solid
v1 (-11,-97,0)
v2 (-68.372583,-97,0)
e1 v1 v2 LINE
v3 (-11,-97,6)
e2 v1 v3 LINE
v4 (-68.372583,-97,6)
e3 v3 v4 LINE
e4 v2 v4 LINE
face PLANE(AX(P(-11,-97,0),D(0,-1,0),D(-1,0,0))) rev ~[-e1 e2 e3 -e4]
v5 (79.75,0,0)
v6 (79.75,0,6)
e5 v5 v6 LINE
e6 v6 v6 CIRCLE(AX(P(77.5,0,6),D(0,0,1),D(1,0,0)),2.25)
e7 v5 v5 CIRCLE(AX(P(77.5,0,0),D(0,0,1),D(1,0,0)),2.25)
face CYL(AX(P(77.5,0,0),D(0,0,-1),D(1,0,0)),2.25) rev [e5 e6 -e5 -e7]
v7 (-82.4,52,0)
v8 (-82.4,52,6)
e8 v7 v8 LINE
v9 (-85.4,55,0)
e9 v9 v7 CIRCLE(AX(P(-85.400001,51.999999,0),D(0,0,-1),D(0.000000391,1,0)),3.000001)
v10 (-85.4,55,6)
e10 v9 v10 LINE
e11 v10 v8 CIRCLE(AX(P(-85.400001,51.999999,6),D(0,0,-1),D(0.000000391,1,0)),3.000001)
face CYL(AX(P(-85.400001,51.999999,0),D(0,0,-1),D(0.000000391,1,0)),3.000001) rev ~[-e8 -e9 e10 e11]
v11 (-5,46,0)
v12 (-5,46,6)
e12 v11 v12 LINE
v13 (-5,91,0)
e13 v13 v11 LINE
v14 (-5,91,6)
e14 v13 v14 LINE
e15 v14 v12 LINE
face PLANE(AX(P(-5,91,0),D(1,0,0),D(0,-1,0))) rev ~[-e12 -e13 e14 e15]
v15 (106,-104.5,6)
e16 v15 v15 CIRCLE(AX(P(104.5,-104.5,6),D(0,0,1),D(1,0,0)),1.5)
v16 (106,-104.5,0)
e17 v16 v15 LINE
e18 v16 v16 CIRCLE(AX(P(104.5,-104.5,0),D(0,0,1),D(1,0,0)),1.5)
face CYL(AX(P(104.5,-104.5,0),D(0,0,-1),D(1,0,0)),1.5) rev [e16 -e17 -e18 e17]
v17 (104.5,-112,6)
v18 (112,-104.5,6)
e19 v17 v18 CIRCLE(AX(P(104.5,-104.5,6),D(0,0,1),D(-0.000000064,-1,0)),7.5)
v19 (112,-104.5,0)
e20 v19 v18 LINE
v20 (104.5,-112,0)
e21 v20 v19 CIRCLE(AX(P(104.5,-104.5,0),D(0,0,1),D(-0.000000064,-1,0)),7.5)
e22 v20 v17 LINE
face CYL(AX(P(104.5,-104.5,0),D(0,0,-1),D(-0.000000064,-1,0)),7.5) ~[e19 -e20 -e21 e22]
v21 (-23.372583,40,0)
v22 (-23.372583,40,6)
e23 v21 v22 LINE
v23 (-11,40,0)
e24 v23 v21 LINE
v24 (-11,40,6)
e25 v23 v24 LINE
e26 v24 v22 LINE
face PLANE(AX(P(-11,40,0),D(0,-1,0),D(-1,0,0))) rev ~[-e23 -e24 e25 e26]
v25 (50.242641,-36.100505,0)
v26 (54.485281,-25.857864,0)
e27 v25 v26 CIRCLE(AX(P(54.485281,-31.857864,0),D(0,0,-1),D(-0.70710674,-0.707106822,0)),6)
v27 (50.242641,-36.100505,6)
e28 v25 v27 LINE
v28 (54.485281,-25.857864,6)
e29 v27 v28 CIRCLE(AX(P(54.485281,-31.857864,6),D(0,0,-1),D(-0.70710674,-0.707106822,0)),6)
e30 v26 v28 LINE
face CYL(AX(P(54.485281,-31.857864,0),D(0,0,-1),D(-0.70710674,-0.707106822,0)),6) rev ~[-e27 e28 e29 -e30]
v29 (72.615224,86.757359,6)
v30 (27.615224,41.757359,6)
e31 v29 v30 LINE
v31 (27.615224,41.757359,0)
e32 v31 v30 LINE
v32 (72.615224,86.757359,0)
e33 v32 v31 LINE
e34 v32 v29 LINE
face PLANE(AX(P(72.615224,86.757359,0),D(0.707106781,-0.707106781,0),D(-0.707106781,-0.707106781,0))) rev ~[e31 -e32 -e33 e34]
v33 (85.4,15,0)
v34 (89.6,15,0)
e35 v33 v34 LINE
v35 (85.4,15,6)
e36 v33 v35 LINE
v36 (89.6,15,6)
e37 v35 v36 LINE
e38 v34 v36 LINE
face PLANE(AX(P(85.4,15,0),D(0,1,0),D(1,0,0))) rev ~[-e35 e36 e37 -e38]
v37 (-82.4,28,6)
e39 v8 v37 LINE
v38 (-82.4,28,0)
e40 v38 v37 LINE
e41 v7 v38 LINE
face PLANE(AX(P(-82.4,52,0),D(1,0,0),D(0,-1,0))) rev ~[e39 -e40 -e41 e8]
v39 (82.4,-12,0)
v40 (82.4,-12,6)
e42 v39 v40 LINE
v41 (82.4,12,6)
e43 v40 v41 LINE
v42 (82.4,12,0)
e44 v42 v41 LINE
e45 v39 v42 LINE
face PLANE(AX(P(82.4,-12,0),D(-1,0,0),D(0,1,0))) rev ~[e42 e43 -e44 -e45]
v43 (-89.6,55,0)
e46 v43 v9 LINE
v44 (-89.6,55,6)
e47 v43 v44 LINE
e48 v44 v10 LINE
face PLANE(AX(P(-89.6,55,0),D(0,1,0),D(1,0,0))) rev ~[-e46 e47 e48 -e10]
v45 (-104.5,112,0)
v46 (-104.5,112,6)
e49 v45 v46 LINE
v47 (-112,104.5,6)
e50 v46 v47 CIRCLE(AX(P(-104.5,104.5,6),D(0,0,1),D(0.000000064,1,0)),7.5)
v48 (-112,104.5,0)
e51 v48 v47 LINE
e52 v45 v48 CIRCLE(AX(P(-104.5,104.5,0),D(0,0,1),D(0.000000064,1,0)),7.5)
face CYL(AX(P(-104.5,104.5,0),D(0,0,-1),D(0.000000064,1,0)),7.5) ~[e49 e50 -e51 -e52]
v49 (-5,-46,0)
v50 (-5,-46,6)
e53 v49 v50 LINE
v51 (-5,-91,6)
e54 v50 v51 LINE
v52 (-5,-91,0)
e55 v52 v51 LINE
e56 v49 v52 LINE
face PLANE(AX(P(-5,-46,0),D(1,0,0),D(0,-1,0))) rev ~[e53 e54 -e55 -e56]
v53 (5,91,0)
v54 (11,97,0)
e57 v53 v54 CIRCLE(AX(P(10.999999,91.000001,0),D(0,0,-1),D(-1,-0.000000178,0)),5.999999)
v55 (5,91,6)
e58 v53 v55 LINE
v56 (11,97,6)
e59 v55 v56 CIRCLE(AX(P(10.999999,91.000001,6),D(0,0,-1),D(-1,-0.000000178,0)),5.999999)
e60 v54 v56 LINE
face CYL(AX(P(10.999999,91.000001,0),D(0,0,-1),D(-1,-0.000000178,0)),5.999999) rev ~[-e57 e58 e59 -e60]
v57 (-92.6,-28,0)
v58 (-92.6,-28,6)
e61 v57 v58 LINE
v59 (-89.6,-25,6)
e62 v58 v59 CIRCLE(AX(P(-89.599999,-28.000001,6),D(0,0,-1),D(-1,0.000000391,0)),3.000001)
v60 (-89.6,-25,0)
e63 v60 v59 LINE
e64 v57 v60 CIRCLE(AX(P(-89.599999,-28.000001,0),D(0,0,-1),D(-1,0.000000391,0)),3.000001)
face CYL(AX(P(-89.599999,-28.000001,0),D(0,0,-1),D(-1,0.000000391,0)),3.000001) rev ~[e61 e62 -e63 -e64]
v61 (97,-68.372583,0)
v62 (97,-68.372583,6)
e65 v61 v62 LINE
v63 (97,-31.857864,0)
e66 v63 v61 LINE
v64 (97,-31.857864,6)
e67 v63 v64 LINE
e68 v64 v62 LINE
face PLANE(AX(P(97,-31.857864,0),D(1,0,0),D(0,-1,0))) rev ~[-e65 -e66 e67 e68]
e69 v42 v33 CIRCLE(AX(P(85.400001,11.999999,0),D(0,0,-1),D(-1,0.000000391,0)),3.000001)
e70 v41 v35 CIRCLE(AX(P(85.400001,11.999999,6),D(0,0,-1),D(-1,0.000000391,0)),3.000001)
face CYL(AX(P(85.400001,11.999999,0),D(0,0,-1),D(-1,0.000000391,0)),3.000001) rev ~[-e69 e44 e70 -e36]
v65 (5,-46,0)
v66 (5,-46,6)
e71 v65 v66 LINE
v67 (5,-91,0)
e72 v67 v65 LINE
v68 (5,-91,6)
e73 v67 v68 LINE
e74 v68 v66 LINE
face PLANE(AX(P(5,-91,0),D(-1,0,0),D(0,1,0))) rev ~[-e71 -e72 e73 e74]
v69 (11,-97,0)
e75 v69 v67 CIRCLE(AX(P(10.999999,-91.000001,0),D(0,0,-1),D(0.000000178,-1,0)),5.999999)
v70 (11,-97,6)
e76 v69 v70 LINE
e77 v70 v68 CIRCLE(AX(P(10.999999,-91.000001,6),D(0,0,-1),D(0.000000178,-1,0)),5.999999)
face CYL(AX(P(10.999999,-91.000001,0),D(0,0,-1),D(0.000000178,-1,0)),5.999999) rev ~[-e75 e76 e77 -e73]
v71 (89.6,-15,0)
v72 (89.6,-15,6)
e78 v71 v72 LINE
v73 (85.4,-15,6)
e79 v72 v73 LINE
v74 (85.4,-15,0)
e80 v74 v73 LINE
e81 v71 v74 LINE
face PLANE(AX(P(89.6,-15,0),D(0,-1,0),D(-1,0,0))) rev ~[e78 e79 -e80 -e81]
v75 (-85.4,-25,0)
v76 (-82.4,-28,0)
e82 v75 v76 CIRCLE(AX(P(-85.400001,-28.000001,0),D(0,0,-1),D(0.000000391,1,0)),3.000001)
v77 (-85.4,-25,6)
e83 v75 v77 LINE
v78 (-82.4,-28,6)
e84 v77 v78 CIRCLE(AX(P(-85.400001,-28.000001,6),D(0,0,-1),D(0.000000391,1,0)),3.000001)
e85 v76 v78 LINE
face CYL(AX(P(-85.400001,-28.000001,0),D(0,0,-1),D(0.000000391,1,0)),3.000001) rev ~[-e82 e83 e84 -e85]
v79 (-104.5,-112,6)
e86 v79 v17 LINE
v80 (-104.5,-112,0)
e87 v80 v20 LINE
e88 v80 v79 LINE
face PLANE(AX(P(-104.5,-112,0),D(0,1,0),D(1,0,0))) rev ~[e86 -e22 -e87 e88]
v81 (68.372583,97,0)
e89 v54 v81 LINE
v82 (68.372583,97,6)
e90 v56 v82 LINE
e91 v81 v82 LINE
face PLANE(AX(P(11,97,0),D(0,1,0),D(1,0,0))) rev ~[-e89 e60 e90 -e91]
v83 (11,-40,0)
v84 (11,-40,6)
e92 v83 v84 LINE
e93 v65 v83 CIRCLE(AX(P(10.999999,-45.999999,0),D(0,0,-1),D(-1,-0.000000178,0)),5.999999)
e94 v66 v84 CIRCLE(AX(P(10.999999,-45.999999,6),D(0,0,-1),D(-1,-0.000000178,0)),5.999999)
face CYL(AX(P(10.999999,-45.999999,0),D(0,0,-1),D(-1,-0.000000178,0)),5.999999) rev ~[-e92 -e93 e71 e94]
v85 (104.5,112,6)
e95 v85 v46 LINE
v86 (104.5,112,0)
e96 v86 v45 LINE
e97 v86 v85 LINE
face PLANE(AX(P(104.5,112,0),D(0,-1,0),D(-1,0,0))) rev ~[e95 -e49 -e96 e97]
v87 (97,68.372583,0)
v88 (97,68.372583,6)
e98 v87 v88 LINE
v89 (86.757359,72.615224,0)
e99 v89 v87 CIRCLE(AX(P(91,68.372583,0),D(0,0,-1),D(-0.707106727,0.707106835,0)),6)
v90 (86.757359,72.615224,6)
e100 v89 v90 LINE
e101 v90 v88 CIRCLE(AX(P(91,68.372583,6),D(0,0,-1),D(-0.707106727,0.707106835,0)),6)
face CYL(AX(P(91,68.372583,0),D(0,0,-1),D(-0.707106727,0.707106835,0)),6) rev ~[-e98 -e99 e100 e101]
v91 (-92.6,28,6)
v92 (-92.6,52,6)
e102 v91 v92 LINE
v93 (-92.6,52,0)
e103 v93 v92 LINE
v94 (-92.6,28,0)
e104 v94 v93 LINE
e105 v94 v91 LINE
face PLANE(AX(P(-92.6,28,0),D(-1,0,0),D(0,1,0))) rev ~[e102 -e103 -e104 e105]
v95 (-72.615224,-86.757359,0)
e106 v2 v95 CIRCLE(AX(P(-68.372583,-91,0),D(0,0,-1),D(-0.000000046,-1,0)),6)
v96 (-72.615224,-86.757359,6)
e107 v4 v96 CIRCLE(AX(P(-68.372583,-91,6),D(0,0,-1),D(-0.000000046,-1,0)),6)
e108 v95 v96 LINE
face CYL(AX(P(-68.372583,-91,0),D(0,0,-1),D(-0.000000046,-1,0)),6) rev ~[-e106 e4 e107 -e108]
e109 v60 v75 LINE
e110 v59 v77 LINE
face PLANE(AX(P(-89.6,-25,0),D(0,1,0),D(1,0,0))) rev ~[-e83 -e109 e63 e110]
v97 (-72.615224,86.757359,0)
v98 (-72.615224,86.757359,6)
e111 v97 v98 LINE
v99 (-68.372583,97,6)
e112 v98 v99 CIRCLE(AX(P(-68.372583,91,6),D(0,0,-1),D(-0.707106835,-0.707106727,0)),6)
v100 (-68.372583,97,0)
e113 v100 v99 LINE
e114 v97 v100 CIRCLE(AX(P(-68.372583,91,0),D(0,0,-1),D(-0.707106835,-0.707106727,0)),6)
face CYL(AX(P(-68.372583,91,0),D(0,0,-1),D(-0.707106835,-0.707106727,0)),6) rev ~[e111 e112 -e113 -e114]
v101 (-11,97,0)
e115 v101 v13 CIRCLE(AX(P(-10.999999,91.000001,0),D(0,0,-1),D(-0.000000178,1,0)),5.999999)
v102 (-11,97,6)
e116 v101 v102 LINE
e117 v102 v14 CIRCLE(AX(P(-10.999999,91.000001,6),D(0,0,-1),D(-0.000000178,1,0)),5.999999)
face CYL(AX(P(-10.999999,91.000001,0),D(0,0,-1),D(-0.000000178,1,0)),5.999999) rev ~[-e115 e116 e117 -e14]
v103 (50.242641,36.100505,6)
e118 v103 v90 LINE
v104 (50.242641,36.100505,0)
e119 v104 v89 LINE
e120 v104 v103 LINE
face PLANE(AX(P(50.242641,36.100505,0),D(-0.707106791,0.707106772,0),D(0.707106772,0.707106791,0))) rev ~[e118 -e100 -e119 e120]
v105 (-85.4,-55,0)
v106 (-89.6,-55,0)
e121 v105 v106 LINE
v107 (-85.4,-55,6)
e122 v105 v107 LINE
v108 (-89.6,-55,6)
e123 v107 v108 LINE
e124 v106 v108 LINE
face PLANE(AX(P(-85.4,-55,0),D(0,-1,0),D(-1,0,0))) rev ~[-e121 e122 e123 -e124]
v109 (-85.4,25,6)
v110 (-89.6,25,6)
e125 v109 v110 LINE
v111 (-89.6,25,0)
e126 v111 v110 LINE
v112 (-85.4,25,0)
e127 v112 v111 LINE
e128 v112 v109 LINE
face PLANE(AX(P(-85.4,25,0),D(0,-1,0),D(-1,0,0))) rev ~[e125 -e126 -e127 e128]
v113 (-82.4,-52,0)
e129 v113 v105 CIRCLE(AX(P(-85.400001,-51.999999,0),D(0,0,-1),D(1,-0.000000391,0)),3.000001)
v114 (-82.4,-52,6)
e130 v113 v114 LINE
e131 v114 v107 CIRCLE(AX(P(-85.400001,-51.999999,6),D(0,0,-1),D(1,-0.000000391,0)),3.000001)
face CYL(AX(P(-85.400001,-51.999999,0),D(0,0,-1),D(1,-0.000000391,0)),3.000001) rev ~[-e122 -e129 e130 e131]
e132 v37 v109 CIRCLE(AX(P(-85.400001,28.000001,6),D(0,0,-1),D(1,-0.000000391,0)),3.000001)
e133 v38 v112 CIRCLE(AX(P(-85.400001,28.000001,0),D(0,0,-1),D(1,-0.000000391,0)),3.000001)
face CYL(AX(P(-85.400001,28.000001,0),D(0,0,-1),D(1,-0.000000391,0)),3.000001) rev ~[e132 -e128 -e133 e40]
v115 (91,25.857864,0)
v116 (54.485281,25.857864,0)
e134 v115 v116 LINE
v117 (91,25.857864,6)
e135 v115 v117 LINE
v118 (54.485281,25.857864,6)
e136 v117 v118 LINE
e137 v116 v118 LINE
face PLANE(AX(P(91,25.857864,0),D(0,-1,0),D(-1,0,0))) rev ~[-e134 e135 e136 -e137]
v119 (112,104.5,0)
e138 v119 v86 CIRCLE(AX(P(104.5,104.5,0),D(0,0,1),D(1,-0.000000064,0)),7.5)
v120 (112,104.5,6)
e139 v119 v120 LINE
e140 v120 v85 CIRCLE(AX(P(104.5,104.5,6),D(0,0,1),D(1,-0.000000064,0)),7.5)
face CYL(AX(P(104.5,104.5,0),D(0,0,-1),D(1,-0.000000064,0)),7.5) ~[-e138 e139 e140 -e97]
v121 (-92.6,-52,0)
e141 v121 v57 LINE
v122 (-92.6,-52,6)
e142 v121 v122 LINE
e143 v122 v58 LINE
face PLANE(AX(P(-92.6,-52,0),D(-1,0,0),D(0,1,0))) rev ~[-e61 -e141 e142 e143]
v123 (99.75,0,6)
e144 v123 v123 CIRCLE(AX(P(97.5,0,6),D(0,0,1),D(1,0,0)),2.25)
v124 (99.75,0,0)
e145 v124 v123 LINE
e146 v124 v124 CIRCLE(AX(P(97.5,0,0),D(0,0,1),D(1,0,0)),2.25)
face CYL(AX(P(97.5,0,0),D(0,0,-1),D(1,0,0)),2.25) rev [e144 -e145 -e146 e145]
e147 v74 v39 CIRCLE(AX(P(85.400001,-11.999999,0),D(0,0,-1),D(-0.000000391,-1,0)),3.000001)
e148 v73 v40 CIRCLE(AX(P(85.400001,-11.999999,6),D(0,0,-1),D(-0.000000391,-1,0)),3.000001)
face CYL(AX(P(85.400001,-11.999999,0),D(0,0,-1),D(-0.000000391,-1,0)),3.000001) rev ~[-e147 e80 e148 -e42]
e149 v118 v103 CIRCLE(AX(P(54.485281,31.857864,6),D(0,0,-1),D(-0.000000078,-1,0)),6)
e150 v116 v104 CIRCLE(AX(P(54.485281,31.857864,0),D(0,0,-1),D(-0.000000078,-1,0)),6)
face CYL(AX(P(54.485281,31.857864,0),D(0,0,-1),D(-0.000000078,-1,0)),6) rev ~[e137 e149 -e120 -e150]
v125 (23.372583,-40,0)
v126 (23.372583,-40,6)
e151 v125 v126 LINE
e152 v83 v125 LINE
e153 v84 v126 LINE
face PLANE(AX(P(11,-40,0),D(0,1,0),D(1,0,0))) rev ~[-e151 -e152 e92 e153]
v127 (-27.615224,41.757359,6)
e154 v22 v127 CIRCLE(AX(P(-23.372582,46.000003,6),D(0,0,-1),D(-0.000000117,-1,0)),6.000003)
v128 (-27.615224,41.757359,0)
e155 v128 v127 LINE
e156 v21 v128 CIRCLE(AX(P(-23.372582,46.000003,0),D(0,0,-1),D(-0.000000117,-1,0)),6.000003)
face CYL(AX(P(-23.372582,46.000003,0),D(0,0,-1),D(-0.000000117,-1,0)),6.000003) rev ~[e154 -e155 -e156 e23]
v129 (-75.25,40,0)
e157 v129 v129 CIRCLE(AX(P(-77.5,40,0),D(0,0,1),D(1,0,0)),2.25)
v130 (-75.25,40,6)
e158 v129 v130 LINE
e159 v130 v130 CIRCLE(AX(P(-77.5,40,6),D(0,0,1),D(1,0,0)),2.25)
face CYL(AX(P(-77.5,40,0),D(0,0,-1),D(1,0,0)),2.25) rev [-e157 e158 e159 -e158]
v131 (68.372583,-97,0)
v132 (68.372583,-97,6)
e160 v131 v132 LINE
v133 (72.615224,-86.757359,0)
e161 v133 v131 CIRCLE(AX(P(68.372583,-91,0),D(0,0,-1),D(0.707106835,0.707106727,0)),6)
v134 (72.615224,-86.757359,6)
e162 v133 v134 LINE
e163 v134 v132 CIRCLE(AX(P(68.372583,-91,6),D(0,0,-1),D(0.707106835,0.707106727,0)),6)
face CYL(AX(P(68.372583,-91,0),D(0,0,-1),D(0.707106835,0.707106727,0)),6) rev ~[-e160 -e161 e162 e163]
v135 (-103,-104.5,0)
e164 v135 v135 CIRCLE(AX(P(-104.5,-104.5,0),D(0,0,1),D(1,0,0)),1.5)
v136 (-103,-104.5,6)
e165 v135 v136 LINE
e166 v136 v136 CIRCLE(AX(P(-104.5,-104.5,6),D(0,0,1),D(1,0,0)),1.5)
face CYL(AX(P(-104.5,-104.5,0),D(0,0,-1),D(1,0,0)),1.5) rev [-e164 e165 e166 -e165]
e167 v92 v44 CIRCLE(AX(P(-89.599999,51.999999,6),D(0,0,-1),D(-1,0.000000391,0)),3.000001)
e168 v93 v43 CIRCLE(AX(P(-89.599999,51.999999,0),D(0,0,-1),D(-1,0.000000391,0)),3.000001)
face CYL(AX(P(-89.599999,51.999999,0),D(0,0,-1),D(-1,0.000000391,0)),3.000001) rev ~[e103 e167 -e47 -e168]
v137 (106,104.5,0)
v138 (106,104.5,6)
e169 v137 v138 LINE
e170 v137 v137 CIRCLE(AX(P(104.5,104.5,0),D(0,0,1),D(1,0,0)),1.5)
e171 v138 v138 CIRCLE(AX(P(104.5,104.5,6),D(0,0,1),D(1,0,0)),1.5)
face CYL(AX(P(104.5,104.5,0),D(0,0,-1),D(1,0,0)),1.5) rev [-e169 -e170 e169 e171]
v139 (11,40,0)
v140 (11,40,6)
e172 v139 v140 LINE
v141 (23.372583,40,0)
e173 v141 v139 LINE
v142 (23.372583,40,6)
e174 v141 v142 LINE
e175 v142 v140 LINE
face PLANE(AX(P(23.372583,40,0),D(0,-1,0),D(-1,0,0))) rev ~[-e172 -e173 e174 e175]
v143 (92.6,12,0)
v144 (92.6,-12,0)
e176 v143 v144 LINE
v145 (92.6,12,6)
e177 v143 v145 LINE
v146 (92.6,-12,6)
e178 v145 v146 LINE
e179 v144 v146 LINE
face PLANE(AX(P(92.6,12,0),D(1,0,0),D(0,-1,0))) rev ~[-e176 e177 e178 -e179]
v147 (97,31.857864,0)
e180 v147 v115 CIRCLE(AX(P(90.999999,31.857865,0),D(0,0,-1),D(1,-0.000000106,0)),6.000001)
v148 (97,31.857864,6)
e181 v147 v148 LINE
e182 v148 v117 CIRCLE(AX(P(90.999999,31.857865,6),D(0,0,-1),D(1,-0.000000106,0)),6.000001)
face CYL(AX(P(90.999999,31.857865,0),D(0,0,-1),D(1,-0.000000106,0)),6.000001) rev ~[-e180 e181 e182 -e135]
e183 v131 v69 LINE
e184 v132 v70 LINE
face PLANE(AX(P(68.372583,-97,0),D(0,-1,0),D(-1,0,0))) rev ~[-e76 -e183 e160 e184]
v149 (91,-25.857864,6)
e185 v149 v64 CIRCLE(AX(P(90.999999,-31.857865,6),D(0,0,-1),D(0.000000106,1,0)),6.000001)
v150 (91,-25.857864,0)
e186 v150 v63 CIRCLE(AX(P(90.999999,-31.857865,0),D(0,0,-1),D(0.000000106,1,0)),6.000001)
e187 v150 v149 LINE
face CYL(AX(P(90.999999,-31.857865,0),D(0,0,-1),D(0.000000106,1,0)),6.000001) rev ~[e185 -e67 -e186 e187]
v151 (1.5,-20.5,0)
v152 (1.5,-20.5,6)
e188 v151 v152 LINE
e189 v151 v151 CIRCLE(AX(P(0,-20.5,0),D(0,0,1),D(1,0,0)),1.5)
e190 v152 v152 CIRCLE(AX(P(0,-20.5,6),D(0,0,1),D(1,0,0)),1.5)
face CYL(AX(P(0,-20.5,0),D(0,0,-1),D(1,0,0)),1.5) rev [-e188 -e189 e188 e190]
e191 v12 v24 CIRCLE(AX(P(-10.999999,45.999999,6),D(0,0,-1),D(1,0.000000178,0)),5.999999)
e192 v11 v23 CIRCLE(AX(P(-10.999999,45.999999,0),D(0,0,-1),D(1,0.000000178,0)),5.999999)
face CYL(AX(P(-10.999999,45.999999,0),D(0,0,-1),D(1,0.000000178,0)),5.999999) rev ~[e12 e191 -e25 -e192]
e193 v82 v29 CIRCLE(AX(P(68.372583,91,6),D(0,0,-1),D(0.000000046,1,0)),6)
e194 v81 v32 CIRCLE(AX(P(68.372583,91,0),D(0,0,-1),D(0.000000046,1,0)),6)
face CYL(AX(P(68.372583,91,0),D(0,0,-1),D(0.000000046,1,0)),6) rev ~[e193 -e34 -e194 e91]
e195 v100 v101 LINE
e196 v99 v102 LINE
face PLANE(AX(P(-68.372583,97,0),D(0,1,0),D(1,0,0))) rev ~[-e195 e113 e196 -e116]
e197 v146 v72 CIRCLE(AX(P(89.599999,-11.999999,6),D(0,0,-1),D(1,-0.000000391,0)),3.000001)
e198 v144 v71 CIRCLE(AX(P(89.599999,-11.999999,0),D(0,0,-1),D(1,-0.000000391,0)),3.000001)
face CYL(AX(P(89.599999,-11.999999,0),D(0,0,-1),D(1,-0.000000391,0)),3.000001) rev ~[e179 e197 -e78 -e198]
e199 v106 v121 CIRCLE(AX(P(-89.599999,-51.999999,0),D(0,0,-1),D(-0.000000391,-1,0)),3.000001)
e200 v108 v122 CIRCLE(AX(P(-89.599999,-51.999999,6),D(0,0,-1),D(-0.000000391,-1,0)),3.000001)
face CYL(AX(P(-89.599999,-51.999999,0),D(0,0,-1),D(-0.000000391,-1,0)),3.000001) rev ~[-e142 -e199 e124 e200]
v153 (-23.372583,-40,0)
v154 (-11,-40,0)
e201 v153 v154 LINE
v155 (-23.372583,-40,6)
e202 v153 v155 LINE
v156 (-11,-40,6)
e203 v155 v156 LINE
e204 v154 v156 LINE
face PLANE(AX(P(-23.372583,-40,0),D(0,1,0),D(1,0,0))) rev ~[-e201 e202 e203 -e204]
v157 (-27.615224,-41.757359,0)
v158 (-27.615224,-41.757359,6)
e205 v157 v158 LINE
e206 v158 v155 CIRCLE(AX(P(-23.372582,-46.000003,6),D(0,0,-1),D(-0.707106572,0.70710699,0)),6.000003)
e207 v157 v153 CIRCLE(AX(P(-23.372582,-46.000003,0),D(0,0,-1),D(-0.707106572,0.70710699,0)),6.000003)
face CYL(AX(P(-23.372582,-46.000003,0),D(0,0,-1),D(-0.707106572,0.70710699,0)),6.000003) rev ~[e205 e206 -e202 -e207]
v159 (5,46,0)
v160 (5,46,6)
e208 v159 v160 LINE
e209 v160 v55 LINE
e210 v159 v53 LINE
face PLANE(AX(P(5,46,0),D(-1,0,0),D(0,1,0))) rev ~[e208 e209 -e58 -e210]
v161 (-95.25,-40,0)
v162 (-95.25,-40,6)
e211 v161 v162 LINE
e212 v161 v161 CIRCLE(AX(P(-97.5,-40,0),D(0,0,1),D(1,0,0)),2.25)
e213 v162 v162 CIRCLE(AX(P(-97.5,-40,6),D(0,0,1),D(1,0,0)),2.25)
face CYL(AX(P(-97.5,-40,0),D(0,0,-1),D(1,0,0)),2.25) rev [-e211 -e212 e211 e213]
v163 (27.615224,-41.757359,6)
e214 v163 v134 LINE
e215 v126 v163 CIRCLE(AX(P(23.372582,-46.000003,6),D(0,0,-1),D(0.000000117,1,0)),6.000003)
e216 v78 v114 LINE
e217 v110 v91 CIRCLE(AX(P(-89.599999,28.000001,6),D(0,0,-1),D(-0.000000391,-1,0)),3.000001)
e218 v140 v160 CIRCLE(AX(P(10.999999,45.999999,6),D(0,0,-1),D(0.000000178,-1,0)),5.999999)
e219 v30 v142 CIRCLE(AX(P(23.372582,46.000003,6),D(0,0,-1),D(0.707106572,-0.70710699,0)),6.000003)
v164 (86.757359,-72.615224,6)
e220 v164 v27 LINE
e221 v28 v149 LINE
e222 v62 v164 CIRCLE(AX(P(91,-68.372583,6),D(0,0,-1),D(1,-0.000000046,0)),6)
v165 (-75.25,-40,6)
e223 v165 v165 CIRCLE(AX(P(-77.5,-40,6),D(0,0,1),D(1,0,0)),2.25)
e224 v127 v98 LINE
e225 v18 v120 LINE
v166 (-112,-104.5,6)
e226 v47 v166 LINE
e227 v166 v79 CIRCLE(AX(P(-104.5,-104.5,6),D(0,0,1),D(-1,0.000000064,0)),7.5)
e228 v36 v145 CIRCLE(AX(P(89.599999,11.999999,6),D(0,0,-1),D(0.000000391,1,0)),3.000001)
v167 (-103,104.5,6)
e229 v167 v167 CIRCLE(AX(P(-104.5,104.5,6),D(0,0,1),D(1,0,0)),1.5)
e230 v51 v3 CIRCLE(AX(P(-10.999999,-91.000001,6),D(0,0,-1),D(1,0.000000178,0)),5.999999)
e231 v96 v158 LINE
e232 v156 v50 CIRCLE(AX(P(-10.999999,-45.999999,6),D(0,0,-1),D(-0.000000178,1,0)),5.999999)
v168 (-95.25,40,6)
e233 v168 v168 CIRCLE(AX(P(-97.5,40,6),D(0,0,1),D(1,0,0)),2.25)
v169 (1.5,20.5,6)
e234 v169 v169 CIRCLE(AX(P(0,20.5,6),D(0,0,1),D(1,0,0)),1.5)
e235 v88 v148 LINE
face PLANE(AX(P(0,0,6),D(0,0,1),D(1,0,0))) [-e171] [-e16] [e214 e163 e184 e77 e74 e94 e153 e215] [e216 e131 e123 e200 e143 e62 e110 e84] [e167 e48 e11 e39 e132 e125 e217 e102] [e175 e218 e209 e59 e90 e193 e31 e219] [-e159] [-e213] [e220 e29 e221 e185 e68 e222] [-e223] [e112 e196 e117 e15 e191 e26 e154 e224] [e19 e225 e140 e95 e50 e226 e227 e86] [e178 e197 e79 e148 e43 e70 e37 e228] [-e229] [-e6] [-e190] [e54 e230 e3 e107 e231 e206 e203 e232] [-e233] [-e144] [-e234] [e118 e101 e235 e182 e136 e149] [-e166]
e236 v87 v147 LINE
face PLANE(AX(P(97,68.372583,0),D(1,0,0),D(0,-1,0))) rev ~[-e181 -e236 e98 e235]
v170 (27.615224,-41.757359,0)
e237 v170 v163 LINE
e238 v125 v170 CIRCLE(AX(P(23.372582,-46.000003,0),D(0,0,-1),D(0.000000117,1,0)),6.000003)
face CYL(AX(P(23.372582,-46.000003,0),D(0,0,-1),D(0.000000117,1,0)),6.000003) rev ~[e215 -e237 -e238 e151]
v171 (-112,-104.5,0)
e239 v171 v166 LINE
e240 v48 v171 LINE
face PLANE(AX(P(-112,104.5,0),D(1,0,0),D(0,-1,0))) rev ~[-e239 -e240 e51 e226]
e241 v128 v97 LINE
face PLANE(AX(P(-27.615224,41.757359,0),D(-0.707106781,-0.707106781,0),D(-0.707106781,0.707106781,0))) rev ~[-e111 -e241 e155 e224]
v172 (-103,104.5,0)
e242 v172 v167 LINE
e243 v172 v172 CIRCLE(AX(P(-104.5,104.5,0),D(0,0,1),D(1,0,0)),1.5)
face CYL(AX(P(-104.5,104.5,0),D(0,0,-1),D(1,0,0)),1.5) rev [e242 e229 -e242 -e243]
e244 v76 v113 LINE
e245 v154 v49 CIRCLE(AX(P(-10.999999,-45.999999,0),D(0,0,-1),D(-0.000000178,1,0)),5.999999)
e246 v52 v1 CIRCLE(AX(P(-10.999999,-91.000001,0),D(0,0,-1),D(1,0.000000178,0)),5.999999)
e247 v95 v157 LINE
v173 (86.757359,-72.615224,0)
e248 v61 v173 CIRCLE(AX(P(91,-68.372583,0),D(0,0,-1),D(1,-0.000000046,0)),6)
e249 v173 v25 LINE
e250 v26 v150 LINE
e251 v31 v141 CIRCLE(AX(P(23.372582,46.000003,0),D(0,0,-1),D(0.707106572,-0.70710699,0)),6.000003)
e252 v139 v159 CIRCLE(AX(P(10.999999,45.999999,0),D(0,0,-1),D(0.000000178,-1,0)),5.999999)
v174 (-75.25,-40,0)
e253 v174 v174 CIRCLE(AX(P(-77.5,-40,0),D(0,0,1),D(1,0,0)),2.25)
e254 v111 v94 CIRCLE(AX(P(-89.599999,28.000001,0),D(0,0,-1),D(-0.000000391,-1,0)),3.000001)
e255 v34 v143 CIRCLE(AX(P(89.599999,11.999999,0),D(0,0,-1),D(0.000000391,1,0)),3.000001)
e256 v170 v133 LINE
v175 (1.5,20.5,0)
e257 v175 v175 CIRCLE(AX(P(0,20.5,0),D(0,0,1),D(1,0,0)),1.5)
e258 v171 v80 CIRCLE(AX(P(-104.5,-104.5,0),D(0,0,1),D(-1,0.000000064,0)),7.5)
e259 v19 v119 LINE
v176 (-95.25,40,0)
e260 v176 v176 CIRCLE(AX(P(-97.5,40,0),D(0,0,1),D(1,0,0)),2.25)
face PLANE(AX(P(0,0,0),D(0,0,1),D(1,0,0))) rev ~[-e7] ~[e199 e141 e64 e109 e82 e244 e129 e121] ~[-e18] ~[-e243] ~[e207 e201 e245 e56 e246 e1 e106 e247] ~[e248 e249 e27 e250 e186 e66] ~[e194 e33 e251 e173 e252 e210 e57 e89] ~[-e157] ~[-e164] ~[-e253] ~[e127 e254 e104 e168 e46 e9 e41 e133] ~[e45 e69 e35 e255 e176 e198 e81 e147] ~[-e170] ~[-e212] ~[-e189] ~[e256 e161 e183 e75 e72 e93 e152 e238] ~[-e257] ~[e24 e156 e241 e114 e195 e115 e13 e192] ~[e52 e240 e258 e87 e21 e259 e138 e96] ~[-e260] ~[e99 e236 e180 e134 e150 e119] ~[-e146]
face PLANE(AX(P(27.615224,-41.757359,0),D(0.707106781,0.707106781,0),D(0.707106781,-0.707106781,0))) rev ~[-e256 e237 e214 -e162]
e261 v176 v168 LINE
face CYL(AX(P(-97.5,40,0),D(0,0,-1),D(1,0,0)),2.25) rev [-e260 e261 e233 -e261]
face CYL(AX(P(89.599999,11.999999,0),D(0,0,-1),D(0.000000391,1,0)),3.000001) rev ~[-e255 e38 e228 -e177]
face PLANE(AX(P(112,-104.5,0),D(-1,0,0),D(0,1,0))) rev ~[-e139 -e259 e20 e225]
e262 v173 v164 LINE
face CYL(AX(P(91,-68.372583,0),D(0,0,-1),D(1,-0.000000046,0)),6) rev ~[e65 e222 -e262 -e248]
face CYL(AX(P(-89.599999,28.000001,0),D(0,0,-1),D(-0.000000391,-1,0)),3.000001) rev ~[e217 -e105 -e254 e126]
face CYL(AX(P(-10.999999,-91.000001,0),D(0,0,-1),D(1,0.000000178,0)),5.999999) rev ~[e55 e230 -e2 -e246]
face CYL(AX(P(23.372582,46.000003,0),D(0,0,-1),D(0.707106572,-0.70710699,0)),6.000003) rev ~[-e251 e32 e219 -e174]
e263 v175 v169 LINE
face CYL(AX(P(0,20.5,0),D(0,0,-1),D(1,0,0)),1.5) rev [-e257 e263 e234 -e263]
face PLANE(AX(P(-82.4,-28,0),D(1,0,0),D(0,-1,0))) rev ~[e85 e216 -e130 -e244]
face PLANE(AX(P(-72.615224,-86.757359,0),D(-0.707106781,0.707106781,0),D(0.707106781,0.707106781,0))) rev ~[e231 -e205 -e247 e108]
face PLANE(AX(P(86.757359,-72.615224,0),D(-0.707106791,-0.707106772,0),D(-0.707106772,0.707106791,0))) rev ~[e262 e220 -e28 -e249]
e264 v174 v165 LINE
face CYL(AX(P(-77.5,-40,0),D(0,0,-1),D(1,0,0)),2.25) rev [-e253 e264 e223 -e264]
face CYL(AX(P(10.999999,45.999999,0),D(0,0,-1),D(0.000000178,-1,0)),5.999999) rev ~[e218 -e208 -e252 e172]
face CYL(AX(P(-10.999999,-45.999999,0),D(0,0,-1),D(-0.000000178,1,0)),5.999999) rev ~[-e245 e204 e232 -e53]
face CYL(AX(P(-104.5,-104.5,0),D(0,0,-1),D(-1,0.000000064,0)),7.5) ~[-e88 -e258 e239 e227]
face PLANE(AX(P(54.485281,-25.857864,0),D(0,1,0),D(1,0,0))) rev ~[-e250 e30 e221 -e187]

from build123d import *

# Parameters (mm, degrees)
F0_R     = 1.5
F0_R_2   = 2.25
F1_DEPTH = 6


with BuildPart() as f1:
    # F0 (on Top) → F1 (new body)
    with BuildSketch(Plane.XY):
        with BuildLine():
            Line((104.5, 112), (-104.5, 112))
            ThreePointArc((-104.5, 112), (-109.803301, 109.803301), (-112, 104.5))
            Line((-112, 104.5), (-112, -104.5))
            ThreePointArc((-112, -104.5), (-109.803301, -109.803301), (-104.5, -112))
            Line((-104.5, -112), (104.5, -112))
            ThreePointArc((104.5, -112), (109.803301, -109.803301), (112, -104.5))
            Line((112, -104.5), (112, 104.5))
            ThreePointArc((112, 104.5), (109.803301, 109.803301), (104.5, 112))
        make_face()
        with Locations((-104.5, -104.5)):
            Circle(F0_R, mode=Mode.SUBTRACT)
        with BuildLine():
            Line((-72.615224, -86.757359), (-27.615224, -41.757359))
            ThreePointArc((-27.615224, -41.757359), (-25.668684, -40.456723), (-23.372583, -40))
            Line((-23.372583, -40), (-11, -40))
            ThreePointArc((-11, -40), (-6.757359, -41.757359), (-5, -46))
            Line((-5, -46), (-5, -91))
            ThreePointArc((-5, -91), (-6.757359, -95.242641), (-11, -97))
            Line((-11, -97), (-68.372583, -97))
            ThreePointArc((-68.372583, -97), (-73.91586, -93.296101), (-72.615224, -86.757359))
        make_face(mode=Mode.SUBTRACT)
        with Locations((-97.5, -40)):
            Circle(F0_R_2, mode=Mode.SUBTRACT)
        with BuildLine():
            Line((-89.6, -25), (-85.4, -25))
            ThreePointArc((-85.4, -25), (-83.27868, -25.87868), (-82.4, -28))
            Line((-82.4, -28), (-82.4, -52))
            ThreePointArc((-82.4, -52), (-83.27868, -54.12132), (-85.4, -55))
            Line((-85.4, -55), (-89.6, -55))
            ThreePointArc((-89.6, -55), (-91.72132, -54.12132), (-92.6, -52))
            Line((-92.6, -52), (-92.6, -28))
            ThreePointArc((-92.6, -28), (-91.72132, -25.87868), (-89.6, -25))
        make_face(mode=Mode.SUBTRACT)
        with Locations((-77.5, -40)):
            Circle(F0_R_2, mode=Mode.SUBTRACT)
        with BuildLine():
            ThreePointArc((23.372583, -40), (25.668684, -40.456723), (27.615224, -41.757359))
            Line((27.615224, -41.757359), (72.615224, -86.757359))
            ThreePointArc((72.615224, -86.757359), (73.91586, -93.296101), (68.372583, -97))
            Line((68.372583, -97), (11, -97))
            ThreePointArc((11, -97), (6.757359, -95.242641), (5, -91))
            Line((5, -91), (5, -46))
            ThreePointArc((5, -46), (6.757359, -41.757359), (11, -40))
            Line((11, -40), (23.372583, -40))
        make_face(mode=Mode.SUBTRACT)
        with Locations((104.5, -104.5)):
            Circle(F0_R, mode=Mode.SUBTRACT)
        with Locations((0, -20.5)):
            Circle(F0_R, mode=Mode.SUBTRACT)
        with BuildLine():
            ThreePointArc((97, -68.372583), (93.296101, -73.91586), (86.757359, -72.615224))
            Line((86.757359, -72.615224), (50.242641, -36.100505))
            ThreePointArc((50.242641, -36.100505), (48.942004, -29.561764), (54.485281, -25.857864))
            Line((54.485281, -25.857864), (91, -25.857864))
            ThreePointArc((91, -25.857864), (95.242641, -27.615224), (97, -31.857864))
            Line((97, -31.857864), (97, -68.372583))
        make_face(mode=Mode.SUBTRACT)
        with Locations((-97.5, 40)):
            Circle(F0_R_2, mode=Mode.SUBTRACT)
        with BuildLine():
            ThreePointArc((-82.4, 28), (-83.27868, 25.87868), (-85.4, 25))
            Line((-85.4, 25), (-89.6, 25))
            ThreePointArc((-89.6, 25), (-91.72132, 25.87868), (-92.6, 28))
            Line((-92.6, 28), (-92.6, 52))
            ThreePointArc((-92.6, 52), (-91.72132, 54.12132), (-89.6, 55))
            Line((-89.6, 55), (-85.4, 55))
            ThreePointArc((-85.4, 55), (-83.27868, 54.12132), (-82.4, 52))
            Line((-82.4, 52), (-82.4, 28))
        make_face(mode=Mode.SUBTRACT)
        with Locations((-77.5, 40)):
            Circle(F0_R_2, mode=Mode.SUBTRACT)
        with Locations((-104.5, 104.5)):
            Circle(F0_R, mode=Mode.SUBTRACT)
        with BuildLine():
            ThreePointArc((-11, 97), (-6.757359, 95.242641), (-5, 91))
            Line((-5, 91), (-5, 46))
            ThreePointArc((-5, 46), (-6.757359, 41.757359), (-11, 40))
            Line((-11, 40), (-23.372583, 40))
            ThreePointArc((-23.372583, 40), (-25.668684, 40.456723), (-27.615224, 41.757359))
            Line((-27.615224, 41.757359), (-72.615224, 86.757359))
            ThreePointArc((-72.615224, 86.757359), (-73.91586, 93.296101), (-68.372583, 97))
            Line((-68.372583, 97), (-11, 97))
        make_face(mode=Mode.SUBTRACT)
        with Locations((0, 20.5)):
            Circle(F0_R, mode=Mode.SUBTRACT)
        with Locations((77.5, 0)):
            Circle(F0_R_2, mode=Mode.SUBTRACT)
        with BuildLine():
            Line((85.4, 15), (89.6, 15))
            ThreePointArc((89.6, 15), (91.72132, 14.12132), (92.6, 12))
            Line((92.6, 12), (92.6, -12))
            ThreePointArc((92.6, -12), (91.72132, -14.12132), (89.6, -15))
            Line((89.6, -15), (85.4, -15))
            ThreePointArc((85.4, -15), (83.27868, -14.12132), (82.4, -12))
            Line((82.4, -12), (82.4, 12))
            ThreePointArc((82.4, 12), (83.27868, 14.12132), (85.4, 15))
        make_face(mode=Mode.SUBTRACT)
        with Locations((97.5, 0)):
            Circle(F0_R_2, mode=Mode.SUBTRACT)
        with BuildLine():
            ThreePointArc((54.485281, 25.857864), (48.942004, 29.561764), (50.242641, 36.100505))
            Line((50.242641, 36.100505), (86.757359, 72.615224))
            ThreePointArc((86.757359, 72.615224), (93.296101, 73.91586), (97, 68.372583))
            Line((97, 68.372583), (97, 31.857864))
            ThreePointArc((97, 31.857864), (95.242641, 27.615224), (91, 25.857864))
            Line((91, 25.857864), (54.485281, 25.857864))
        make_face(mode=Mode.SUBTRACT)
        with BuildLine():
            Line((5, 46), (5, 91))
            ThreePointArc((5, 91), (6.757359, 95.242641), (11, 97))
            Line((11, 97), (68.372583, 97))
            ThreePointArc((68.372583, 97), (73.91586, 93.296101), (72.615224, 86.757359))
            Line((72.615224, 86.757359), (27.615224, 41.757359))
            ThreePointArc((27.615224, 41.757359), (25.668684, 40.456723), (23.372583, 40))
            Line((23.372583, 40), (11, 40))
            ThreePointArc((11, 40), (6.757359, 41.757359), (5, 46))
        make_face(mode=Mode.SUBTRACT)
        with Locations((104.5, 104.5)):
            Circle(F0_R, mode=Mode.SUBTRACT)
    extrude(amount=F1_DEPTH)


solid = f1.part
